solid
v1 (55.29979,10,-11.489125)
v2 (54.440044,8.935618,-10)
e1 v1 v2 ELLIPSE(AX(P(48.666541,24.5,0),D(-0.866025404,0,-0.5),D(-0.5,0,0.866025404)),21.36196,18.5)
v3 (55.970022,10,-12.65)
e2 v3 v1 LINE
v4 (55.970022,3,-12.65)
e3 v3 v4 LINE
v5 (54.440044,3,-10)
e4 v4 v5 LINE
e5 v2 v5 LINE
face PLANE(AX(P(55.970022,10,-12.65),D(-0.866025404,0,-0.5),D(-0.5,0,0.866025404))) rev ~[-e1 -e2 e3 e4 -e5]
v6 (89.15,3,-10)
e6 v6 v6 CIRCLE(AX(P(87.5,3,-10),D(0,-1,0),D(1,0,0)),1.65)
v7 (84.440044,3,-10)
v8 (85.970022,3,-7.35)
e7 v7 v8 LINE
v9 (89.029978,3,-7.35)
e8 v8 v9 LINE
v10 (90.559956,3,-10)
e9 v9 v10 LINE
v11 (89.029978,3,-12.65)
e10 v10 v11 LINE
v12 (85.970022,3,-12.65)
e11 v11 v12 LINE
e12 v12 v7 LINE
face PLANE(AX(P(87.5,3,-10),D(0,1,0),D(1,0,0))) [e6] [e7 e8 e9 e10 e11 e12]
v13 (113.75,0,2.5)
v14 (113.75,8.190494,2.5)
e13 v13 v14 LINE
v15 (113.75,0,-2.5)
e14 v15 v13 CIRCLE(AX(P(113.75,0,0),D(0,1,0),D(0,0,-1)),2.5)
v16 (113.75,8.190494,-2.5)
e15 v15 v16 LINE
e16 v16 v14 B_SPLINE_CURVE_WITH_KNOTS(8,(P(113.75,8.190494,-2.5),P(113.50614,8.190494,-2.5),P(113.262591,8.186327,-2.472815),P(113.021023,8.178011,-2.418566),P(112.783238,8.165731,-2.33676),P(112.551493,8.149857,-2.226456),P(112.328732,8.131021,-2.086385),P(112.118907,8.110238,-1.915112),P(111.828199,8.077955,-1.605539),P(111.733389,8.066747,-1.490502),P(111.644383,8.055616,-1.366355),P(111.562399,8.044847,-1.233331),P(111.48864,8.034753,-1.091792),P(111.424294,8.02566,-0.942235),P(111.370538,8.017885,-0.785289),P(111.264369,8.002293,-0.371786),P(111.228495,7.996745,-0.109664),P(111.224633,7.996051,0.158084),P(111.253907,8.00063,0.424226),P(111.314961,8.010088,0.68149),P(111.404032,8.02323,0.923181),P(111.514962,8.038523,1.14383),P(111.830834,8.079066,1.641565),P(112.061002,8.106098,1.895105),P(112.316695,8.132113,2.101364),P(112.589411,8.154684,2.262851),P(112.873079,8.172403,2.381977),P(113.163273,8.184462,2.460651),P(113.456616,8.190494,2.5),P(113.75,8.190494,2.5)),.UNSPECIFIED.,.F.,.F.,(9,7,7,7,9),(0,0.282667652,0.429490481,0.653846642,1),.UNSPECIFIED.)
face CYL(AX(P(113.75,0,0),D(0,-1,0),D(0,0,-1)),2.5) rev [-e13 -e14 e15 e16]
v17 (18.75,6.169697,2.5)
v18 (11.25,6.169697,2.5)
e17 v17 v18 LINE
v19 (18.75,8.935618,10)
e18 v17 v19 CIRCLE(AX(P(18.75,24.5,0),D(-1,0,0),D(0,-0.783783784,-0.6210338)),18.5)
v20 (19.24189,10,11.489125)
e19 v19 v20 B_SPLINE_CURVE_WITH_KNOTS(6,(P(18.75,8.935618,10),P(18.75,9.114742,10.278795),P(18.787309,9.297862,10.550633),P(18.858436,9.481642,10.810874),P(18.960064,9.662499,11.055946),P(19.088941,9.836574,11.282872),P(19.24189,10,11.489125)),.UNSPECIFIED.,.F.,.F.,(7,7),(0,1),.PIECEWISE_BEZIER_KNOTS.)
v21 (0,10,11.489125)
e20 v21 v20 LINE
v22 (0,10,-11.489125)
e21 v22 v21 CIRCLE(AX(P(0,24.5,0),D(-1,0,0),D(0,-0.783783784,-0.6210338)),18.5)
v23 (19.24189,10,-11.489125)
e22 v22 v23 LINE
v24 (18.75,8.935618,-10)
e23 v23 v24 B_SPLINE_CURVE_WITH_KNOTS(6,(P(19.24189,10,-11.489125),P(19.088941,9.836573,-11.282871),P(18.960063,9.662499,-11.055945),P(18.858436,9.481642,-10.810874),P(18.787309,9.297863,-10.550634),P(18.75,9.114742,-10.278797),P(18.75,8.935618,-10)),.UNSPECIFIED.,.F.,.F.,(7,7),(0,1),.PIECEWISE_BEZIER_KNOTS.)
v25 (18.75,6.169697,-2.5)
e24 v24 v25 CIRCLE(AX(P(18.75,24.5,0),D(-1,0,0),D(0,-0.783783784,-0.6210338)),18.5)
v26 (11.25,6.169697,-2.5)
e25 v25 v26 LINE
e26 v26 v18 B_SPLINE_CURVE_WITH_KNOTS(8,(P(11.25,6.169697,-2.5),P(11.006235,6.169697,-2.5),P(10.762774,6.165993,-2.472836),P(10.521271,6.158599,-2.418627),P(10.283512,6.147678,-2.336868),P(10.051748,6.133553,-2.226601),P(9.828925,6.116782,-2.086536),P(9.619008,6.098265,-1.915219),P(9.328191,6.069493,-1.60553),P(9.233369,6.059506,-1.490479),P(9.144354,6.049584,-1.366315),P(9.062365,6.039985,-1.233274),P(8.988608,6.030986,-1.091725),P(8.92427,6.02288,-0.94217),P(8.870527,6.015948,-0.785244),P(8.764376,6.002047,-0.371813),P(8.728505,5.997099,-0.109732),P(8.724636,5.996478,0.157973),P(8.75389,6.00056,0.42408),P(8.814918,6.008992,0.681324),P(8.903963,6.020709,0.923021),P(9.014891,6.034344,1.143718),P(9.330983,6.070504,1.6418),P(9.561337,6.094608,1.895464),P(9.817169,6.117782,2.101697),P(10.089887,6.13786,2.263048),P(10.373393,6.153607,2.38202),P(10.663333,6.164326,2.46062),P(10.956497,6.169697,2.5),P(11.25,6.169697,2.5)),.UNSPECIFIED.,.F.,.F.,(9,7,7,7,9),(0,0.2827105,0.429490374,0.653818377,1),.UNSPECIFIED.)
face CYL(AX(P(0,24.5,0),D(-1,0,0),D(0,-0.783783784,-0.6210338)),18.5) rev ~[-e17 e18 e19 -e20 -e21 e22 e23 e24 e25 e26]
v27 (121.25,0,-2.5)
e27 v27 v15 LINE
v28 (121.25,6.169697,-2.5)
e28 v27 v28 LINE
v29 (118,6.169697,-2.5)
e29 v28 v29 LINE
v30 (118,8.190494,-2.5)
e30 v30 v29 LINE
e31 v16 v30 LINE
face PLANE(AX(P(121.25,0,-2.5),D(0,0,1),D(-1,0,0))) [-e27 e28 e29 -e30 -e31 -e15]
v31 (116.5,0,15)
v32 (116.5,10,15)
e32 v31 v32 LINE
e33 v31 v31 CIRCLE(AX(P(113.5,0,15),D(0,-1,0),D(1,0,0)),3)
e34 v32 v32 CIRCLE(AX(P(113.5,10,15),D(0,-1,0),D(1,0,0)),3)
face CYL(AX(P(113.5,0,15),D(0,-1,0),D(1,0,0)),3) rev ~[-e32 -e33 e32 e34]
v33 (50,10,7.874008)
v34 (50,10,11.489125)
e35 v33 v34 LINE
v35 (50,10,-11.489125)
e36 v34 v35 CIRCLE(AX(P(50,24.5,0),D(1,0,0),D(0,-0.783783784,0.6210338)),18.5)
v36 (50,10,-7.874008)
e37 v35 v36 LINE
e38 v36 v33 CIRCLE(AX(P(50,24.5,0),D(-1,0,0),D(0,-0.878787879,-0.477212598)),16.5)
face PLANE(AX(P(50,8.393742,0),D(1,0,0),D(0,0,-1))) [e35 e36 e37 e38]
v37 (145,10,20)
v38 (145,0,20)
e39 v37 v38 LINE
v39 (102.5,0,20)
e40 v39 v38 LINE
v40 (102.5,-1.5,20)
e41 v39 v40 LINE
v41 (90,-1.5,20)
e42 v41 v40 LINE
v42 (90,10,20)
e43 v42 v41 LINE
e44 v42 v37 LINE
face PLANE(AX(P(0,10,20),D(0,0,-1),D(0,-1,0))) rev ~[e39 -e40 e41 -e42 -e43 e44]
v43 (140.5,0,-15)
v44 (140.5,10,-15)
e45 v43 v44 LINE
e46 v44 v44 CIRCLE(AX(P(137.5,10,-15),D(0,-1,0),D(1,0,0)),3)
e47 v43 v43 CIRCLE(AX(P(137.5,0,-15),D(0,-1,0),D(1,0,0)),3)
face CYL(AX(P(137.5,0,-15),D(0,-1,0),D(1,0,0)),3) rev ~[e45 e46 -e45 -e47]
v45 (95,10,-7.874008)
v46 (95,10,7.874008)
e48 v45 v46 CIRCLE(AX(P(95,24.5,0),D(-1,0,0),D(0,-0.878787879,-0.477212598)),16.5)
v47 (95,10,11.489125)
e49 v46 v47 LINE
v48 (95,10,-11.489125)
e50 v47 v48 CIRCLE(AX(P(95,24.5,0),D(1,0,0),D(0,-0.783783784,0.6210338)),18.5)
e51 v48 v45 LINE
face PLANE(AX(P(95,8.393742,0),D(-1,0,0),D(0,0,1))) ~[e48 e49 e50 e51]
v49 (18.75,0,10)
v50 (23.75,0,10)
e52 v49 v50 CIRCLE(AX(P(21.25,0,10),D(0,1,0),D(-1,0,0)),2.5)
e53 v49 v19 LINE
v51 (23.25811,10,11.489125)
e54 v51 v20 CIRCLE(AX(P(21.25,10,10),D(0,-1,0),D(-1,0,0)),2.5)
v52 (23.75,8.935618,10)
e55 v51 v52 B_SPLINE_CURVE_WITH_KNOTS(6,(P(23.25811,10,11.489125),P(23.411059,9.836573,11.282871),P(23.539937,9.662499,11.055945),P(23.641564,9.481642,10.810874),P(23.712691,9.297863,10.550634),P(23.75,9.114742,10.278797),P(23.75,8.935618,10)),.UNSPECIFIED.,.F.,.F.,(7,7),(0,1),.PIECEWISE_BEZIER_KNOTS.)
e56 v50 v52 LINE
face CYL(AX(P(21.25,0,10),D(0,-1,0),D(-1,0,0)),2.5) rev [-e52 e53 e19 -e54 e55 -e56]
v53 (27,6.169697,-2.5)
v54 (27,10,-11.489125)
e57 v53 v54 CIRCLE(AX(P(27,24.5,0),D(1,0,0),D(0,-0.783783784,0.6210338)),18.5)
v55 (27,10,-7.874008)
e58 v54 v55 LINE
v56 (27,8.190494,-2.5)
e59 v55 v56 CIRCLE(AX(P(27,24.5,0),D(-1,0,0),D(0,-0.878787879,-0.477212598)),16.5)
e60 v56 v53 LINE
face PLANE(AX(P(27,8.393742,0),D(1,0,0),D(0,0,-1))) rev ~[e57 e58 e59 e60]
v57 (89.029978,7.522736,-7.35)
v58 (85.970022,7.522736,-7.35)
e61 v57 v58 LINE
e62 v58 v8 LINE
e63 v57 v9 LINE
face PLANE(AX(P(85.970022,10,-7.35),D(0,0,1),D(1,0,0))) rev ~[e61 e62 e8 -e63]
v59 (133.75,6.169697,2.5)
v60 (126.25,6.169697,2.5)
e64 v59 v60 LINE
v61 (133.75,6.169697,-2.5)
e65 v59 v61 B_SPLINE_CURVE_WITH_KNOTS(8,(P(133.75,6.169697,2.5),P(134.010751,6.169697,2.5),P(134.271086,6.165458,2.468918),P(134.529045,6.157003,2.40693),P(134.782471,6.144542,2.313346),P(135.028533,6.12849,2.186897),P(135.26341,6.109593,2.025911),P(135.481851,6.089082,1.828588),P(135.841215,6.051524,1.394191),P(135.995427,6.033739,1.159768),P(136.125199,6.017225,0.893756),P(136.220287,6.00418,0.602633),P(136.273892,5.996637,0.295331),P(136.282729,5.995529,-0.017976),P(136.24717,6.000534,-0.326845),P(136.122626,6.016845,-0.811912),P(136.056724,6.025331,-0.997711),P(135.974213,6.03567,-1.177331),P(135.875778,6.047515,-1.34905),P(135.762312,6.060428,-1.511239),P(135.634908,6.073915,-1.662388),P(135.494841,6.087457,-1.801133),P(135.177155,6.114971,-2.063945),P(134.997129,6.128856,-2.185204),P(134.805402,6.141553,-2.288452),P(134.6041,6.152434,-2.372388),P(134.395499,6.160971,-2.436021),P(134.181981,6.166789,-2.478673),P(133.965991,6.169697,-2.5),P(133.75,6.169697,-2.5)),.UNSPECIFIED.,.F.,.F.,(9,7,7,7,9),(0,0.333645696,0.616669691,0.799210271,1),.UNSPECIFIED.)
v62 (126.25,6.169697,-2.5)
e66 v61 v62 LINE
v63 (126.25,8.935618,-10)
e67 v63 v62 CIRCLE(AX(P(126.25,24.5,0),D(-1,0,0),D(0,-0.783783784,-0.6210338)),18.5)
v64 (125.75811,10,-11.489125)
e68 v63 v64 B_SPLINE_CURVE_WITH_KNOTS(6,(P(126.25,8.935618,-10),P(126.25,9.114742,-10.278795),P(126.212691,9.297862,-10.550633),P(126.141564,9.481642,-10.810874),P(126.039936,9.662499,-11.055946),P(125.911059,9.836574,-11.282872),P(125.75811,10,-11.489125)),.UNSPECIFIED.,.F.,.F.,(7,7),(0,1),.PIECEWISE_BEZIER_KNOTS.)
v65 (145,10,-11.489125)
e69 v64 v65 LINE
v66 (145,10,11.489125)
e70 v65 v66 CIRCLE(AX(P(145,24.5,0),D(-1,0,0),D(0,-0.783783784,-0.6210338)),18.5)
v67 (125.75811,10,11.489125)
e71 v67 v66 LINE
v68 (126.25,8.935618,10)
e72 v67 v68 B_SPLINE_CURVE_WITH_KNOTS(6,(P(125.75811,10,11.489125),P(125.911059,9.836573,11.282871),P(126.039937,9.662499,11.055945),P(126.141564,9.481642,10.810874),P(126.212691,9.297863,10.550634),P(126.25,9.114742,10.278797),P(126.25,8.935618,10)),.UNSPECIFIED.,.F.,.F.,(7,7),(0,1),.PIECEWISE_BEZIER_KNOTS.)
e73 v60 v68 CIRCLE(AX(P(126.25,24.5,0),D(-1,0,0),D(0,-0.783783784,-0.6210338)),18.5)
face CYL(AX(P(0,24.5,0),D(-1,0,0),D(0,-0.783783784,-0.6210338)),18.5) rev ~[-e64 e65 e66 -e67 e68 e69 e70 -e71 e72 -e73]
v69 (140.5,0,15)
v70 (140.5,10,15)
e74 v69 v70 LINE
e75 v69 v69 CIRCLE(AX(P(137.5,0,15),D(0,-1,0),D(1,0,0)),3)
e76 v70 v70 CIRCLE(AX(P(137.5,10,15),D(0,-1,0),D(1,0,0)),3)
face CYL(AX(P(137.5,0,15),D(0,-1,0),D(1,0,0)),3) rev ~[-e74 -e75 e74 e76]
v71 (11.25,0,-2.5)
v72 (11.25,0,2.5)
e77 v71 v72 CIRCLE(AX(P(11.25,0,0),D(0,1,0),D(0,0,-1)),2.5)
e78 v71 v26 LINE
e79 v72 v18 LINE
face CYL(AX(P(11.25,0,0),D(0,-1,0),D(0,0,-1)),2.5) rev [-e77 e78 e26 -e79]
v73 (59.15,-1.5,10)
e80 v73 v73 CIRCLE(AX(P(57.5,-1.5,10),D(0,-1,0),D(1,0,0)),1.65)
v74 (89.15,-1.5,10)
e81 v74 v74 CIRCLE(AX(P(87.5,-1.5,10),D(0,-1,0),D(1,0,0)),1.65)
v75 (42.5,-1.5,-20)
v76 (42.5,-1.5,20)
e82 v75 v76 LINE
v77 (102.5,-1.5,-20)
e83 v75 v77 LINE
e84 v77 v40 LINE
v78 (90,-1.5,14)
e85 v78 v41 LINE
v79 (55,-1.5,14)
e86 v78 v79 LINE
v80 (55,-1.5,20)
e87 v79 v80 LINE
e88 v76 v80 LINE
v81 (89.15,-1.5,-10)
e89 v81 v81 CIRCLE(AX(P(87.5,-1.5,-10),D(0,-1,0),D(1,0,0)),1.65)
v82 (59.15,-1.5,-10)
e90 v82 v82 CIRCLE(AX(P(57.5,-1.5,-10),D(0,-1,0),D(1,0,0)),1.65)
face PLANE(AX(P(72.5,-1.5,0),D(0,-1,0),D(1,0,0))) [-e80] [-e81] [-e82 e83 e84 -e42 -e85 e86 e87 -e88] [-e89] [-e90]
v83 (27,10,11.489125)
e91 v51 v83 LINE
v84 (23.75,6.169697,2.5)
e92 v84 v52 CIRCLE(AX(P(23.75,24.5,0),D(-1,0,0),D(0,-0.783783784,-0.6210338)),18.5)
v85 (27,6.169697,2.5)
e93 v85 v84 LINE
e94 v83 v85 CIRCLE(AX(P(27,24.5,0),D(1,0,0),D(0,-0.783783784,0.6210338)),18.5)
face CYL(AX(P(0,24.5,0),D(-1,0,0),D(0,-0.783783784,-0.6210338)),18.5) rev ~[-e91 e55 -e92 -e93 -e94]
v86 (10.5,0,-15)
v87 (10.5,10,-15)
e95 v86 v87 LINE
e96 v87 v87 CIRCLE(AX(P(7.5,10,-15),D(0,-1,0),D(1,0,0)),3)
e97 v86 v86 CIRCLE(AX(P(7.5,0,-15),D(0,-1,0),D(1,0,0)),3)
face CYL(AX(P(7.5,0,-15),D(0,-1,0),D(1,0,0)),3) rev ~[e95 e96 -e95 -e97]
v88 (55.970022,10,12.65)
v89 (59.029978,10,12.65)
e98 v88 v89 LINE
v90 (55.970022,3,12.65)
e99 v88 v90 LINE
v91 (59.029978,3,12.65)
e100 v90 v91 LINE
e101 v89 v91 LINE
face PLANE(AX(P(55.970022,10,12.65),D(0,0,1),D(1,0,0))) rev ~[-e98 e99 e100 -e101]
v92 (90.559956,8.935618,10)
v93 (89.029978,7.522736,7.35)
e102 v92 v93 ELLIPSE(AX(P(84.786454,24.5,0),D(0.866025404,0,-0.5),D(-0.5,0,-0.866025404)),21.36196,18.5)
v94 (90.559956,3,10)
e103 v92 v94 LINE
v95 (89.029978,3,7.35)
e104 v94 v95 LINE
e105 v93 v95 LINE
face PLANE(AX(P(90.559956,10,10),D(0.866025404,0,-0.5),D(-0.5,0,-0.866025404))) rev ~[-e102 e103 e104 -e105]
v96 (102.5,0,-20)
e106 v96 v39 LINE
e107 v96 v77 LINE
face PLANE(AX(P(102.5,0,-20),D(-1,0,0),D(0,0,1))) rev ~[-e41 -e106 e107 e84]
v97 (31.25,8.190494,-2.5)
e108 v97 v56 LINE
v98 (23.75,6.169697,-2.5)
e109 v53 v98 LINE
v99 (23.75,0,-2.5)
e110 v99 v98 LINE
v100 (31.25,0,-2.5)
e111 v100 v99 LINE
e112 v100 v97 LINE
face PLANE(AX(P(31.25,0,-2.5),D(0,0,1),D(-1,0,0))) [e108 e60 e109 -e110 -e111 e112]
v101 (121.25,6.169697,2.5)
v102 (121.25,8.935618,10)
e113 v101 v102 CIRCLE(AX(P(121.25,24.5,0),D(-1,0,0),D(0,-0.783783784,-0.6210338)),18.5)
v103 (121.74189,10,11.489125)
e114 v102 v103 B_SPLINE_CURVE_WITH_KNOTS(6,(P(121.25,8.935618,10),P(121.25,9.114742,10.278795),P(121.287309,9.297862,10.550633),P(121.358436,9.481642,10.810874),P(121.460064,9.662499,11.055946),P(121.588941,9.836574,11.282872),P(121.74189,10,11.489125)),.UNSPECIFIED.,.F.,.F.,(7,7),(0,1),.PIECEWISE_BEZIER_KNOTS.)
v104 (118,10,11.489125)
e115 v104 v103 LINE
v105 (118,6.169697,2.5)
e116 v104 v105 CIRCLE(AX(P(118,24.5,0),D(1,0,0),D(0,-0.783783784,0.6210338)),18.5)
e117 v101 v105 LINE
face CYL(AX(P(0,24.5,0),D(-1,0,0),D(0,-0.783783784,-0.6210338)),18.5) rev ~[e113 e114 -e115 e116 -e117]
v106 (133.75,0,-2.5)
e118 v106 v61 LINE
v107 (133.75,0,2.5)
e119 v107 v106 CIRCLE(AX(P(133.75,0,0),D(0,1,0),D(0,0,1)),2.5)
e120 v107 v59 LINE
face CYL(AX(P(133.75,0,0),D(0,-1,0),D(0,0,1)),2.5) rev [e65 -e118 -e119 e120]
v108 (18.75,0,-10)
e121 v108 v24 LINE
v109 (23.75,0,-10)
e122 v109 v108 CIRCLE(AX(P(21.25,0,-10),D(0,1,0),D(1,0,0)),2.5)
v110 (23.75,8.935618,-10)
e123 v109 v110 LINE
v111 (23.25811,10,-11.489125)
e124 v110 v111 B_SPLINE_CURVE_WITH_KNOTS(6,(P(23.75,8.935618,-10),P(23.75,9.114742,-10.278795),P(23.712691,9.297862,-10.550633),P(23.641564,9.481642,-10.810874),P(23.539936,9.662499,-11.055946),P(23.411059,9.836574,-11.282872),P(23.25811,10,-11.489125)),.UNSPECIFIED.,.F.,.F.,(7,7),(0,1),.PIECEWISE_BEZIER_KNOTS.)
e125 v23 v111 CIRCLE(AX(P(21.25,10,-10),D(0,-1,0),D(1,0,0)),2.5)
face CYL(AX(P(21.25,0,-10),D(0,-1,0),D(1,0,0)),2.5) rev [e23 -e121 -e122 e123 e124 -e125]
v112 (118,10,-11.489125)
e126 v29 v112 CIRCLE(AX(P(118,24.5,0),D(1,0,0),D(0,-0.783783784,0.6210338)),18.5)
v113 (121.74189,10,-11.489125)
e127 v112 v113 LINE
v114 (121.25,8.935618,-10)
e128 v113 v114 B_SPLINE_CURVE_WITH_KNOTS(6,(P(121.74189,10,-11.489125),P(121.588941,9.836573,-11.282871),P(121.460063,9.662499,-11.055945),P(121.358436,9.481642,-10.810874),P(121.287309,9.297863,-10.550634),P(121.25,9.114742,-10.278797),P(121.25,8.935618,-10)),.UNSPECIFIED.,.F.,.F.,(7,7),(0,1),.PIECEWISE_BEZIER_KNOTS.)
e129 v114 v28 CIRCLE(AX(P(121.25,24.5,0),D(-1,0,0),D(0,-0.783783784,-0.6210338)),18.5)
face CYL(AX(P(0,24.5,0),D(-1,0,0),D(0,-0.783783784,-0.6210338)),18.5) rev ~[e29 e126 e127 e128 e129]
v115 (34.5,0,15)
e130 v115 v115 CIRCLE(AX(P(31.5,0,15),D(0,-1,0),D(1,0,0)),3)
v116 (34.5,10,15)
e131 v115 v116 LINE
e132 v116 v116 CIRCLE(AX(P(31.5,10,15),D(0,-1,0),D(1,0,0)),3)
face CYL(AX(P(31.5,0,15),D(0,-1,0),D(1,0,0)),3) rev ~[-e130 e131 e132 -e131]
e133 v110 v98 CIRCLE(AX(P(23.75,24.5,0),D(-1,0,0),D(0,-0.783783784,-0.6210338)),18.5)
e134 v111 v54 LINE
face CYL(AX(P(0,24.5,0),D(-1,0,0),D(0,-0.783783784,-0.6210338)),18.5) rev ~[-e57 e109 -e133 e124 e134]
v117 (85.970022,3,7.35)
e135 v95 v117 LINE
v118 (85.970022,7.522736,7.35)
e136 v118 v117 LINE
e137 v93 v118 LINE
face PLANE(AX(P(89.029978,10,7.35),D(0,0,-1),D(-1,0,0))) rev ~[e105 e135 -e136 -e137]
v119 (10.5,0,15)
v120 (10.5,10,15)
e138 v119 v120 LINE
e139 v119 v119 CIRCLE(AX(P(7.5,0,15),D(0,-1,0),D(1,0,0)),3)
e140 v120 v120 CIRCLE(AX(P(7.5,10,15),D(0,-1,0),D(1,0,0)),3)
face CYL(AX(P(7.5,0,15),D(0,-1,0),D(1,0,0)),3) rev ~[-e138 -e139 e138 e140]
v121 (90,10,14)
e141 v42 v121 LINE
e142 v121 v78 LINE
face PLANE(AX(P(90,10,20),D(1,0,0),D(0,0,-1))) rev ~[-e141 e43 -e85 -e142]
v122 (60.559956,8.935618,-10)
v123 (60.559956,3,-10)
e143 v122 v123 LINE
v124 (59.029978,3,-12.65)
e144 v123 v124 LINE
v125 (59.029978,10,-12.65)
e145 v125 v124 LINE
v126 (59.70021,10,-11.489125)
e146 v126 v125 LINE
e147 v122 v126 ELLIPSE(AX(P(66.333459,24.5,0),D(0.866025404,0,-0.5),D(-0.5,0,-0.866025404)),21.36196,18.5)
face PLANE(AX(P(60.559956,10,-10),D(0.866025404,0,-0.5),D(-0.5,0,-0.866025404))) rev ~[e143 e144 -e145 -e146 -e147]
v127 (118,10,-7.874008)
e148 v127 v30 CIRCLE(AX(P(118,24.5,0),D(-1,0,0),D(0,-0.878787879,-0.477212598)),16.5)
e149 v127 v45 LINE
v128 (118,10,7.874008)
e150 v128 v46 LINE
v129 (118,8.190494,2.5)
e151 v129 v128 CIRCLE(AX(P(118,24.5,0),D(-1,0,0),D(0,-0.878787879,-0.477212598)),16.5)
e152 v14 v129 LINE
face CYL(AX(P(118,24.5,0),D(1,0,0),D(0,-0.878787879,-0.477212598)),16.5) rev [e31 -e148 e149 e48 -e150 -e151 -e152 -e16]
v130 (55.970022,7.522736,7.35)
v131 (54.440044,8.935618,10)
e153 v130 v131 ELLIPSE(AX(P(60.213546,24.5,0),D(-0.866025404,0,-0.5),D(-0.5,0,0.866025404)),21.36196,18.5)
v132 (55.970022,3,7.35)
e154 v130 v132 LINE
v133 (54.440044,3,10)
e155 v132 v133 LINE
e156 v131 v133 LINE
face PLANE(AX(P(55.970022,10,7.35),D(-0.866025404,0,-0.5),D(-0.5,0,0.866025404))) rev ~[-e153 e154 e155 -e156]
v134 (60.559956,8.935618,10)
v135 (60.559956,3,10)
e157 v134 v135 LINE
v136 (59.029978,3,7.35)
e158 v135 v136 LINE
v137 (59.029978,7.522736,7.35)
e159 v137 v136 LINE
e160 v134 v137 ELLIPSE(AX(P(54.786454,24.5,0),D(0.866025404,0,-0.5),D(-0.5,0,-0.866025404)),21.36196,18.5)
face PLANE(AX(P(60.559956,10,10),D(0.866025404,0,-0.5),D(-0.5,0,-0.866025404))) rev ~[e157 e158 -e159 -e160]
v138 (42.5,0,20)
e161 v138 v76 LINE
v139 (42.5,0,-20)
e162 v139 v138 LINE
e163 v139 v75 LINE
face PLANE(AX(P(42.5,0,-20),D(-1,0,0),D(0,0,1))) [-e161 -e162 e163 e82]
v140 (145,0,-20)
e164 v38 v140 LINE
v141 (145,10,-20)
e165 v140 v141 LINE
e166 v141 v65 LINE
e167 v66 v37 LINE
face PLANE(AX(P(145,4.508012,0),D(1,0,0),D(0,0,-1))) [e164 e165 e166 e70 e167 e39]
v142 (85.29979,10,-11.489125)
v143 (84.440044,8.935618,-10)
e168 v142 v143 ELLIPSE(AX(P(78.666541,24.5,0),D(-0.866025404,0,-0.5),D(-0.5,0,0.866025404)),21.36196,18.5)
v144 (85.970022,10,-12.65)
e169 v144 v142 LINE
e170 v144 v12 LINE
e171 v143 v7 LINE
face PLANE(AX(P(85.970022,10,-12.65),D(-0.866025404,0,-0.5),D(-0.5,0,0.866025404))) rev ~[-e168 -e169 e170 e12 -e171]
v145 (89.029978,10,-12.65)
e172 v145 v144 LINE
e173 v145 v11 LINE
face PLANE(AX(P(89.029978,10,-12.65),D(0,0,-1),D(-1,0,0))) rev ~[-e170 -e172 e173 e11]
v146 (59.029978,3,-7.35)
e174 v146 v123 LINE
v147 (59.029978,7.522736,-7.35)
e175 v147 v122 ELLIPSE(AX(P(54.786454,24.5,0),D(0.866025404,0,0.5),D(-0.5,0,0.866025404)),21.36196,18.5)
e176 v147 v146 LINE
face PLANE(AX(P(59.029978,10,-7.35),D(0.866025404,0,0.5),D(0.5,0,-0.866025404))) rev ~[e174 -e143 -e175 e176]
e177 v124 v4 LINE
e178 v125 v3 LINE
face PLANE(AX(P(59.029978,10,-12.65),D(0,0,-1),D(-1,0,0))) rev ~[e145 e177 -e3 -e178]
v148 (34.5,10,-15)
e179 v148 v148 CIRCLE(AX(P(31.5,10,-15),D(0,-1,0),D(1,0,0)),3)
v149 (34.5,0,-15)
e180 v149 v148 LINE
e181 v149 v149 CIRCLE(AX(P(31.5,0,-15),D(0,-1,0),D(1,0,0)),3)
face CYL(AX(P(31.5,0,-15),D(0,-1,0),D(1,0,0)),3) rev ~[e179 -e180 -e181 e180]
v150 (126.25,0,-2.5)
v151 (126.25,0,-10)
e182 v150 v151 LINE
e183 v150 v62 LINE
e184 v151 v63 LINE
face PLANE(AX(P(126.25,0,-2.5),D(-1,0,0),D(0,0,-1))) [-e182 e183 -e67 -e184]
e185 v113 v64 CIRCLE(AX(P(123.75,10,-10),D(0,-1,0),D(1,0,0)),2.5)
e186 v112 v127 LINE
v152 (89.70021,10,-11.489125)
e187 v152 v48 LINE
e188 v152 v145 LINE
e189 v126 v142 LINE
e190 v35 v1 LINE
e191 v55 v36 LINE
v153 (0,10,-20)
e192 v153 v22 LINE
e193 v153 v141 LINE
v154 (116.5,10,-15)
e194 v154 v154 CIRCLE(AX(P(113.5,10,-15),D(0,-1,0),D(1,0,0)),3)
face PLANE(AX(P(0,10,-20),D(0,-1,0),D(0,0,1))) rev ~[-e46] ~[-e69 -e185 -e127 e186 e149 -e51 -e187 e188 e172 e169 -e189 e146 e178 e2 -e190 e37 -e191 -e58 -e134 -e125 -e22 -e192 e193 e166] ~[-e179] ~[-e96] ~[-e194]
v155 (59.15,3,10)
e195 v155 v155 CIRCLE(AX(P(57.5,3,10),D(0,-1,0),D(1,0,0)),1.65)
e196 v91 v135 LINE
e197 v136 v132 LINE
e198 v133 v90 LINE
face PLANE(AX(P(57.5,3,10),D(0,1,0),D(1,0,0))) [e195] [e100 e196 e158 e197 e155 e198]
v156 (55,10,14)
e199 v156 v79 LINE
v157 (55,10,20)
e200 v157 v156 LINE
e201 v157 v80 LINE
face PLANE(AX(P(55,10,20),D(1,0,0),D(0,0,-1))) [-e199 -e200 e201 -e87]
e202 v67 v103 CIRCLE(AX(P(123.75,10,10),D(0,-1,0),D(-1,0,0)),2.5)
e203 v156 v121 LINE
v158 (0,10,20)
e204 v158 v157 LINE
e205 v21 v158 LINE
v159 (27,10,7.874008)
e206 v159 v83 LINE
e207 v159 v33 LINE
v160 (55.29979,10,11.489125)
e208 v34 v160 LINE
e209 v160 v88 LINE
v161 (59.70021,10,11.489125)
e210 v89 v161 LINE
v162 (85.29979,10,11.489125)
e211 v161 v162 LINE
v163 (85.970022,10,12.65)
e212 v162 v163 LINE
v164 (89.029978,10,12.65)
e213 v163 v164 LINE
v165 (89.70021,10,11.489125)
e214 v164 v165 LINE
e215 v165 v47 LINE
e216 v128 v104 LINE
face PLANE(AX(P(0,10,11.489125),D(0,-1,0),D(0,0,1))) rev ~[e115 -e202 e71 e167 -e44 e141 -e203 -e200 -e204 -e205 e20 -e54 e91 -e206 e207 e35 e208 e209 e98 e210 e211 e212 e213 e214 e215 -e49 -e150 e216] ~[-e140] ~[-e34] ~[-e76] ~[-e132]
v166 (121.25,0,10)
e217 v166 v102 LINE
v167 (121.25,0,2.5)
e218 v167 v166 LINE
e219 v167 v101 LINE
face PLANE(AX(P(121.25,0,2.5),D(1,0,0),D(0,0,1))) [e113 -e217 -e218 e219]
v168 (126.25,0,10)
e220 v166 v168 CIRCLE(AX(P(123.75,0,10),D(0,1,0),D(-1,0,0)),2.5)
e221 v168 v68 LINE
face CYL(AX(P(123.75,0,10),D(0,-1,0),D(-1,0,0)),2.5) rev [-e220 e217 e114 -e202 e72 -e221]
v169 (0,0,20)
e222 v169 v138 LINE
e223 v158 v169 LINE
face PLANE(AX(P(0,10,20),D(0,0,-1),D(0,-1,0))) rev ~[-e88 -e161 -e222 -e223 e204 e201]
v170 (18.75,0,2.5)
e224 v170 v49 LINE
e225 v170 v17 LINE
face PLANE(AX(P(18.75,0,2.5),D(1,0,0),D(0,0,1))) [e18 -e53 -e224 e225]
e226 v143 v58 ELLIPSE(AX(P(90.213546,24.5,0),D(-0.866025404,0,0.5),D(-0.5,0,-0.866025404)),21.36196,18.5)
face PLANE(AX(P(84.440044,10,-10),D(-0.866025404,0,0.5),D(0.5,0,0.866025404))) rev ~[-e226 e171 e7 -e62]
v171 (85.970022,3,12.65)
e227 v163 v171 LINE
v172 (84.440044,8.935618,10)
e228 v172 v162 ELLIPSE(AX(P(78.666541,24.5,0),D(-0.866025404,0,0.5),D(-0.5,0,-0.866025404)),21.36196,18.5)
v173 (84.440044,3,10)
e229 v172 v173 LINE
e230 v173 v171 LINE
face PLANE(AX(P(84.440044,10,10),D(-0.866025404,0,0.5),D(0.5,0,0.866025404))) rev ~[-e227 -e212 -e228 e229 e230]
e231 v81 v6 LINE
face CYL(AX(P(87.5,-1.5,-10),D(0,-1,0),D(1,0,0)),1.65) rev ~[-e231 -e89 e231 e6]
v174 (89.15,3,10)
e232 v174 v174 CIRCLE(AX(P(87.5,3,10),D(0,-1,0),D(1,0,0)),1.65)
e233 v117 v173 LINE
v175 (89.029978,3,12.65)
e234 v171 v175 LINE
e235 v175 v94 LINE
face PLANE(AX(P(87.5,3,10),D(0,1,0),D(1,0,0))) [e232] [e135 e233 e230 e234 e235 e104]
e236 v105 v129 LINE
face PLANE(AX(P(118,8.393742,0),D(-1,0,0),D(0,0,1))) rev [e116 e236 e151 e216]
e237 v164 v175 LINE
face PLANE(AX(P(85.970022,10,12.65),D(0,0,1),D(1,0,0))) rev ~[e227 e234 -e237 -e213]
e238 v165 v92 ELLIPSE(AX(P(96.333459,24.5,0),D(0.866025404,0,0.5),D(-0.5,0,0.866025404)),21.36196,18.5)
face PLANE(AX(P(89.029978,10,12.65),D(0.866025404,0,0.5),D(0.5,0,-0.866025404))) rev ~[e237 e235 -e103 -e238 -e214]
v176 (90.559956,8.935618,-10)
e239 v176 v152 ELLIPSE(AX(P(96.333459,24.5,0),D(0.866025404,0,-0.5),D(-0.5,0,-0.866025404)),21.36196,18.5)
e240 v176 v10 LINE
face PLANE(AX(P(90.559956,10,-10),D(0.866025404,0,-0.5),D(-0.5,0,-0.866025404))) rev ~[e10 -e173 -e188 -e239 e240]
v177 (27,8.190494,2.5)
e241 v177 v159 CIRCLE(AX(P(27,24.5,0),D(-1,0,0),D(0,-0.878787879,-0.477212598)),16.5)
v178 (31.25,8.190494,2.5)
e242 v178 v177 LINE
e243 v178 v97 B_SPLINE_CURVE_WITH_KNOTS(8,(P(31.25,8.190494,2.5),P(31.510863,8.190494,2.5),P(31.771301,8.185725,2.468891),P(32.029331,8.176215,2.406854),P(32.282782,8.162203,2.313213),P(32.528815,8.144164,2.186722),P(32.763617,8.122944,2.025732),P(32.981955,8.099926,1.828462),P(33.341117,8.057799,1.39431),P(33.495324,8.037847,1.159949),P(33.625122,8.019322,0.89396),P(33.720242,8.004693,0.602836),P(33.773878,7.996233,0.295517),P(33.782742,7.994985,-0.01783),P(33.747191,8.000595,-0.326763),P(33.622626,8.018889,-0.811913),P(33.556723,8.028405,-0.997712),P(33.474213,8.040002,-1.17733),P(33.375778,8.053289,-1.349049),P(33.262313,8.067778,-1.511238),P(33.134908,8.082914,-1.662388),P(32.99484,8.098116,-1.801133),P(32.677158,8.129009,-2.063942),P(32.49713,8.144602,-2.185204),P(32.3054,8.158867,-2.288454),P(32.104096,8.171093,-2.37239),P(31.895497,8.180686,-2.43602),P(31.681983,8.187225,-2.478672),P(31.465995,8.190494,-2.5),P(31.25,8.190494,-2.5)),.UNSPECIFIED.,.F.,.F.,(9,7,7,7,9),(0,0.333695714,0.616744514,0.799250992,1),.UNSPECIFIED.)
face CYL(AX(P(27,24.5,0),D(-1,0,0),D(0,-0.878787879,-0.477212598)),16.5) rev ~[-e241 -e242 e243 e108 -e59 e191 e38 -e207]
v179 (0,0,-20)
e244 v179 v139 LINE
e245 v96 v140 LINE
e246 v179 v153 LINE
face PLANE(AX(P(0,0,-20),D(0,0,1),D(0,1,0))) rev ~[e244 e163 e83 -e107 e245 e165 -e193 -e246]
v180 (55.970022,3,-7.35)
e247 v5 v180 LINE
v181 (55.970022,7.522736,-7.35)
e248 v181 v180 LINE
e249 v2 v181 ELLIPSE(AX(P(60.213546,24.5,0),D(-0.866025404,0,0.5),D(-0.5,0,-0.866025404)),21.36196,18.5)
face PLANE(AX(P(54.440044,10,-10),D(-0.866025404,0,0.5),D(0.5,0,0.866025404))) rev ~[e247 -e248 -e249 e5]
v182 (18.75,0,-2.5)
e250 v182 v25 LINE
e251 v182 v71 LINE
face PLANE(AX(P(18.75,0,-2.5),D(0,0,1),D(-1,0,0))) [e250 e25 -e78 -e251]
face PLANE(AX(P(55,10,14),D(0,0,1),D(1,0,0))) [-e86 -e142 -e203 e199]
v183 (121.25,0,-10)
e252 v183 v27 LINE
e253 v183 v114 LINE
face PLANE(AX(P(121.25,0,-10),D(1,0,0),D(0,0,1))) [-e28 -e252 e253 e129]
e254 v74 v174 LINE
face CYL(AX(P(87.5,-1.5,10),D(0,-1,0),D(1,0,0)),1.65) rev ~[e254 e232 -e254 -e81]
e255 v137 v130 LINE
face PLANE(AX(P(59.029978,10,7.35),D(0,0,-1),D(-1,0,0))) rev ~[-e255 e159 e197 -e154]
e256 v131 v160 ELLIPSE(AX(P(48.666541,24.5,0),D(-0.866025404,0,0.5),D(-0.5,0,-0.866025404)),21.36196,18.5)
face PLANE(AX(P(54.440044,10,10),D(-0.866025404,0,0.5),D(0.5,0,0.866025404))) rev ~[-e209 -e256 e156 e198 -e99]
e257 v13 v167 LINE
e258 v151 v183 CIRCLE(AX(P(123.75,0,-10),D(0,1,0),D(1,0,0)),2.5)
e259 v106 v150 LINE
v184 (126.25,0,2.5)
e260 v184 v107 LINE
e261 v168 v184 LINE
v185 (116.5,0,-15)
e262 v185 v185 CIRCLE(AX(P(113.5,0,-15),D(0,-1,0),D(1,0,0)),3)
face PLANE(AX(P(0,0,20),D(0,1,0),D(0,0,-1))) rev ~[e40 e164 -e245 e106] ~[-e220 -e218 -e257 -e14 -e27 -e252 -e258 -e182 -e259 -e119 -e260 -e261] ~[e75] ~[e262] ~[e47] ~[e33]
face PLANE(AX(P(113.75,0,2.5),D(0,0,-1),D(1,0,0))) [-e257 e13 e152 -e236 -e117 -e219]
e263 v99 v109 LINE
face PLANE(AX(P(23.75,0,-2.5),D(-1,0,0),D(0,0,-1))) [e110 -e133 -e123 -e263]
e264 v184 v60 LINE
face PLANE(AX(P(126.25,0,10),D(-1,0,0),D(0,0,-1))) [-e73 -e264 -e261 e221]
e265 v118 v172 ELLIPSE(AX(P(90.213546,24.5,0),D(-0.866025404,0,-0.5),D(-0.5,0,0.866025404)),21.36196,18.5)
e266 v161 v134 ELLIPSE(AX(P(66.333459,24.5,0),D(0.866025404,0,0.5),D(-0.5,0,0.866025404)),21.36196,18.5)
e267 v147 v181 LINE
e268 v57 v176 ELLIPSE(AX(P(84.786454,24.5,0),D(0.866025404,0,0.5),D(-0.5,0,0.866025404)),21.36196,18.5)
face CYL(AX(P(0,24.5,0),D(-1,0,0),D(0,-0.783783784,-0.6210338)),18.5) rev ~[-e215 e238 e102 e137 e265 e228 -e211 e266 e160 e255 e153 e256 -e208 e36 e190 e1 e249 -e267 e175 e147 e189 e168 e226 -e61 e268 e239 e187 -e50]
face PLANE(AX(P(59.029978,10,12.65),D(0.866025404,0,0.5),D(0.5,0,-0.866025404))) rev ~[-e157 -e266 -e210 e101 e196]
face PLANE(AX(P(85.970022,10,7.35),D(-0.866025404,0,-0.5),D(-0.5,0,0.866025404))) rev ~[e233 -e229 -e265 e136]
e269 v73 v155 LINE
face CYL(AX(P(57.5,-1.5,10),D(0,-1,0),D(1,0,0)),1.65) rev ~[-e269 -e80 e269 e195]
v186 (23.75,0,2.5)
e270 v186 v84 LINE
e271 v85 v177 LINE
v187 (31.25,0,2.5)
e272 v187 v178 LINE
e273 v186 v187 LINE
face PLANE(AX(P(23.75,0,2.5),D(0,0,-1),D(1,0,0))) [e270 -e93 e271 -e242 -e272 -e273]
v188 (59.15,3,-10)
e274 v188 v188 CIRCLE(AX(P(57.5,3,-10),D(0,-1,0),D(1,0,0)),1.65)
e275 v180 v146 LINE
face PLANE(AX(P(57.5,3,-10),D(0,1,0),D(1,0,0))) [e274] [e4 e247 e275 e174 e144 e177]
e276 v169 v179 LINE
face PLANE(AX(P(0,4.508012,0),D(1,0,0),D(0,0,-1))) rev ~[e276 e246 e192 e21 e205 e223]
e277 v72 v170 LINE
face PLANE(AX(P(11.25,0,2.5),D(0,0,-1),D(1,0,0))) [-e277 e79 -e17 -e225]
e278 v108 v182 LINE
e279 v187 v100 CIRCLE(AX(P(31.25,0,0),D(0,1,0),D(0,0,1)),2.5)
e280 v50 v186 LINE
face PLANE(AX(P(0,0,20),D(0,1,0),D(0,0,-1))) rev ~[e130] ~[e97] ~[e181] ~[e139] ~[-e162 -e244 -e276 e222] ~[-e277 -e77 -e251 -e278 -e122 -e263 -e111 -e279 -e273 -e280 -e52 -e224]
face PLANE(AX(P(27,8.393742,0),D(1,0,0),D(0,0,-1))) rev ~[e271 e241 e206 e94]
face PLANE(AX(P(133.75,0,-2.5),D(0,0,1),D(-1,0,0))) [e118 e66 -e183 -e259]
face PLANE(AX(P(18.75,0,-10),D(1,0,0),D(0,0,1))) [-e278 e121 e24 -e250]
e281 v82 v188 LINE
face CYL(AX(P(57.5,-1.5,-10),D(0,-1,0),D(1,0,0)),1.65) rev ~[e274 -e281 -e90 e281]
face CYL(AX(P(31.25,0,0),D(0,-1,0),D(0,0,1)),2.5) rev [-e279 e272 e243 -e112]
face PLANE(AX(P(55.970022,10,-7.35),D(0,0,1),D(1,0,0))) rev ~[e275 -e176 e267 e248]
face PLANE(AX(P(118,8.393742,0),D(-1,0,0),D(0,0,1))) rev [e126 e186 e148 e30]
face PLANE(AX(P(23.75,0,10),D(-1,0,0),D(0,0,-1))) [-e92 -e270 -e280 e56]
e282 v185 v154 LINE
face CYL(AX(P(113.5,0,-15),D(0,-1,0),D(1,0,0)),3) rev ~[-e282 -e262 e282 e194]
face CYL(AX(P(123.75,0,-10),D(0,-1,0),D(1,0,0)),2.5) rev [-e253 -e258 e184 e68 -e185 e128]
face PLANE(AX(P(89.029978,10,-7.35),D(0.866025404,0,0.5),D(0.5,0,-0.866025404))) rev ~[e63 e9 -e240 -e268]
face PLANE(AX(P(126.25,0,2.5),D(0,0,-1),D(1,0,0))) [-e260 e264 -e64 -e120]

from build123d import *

# Parameters (mm, degrees)
EXTRUDE_1_DEPTH     = 145
SKETCH_2_R          = 3
CUT_EXTRUDE_1_DEPTH = 11
EXTRUDE_2_DEPTH     = 23
SKETCH_4_W          = 60
SKETCH_4_H          = 40
EXTRUDE_3_DEPTH     = 1.5
SKETCH_5_R          = 1.65
CUT_EXTRUDE_2_DEPTH = 12.5
CUT_EXTRUDE_3_DEPTH = 7
SKETCH_8_W          = 35
SKETCH_8_H          = 6
CUT_EXTRUDE_5_DEPTH = 12.5
CUT_EXTRUDE_6_DEPTH = 11


with BuildPart() as part:
    # 草图1 → 凸台-拉伸1 (new body)
    with BuildSketch(Plane(origin=(0, 0, 0), x_dir=(0, 0, -1), z_dir=(1, 0, 0))):
        with BuildLine():
            Line((-20, 10), (-20, 0))
            Line((-20, 0), (20, 0))
            Line((20, 0), (20, 10))
            Line((20, 10), (11.489125293, 10))
            ThreePointArc((11.489125293, 10), (0, 6), (-11.489125293, 10))
            Line((-11.489125293, 10), (-20, 10))
        make_face()
    extrude(amount=EXTRUDE_1_DEPTH)

    # 草图2 → 切除-拉伸1 (cut, through all)
    with BuildSketch(Plane.XZ):
        with Locations((137.5, -15)):
            Circle(SKETCH_2_R)
        with Locations((113.5, -15)):
            Circle(SKETCH_2_R)
        with Locations((113.5, 15)):
            Circle(SKETCH_2_R)
        with Locations((137.5, 15)):
            Circle(SKETCH_2_R)
        with Locations((7.5, 15)):
            Circle(SKETCH_2_R)
        with Locations((31.5, 15)):
            Circle(SKETCH_2_R)
        with Locations((31.5, -15)):
            Circle(SKETCH_2_R)
        with Locations((7.5, -15)):
            Circle(SKETCH_2_R)
    extrude(amount=-CUT_EXTRUDE_1_DEPTH, mode=Mode.SUBTRACT)

    # 草图3 → 凸台-拉伸2 (add)
    with BuildSketch(Plane(origin=(27, 0, 0), x_dir=(0, 0, -1), z_dir=(1, 0, 0))):
        with BuildLine():
            Line((11.489125293, 10), (7.874007874, 10))
            ThreePointArc((7.874007874, 10), (0, 8), (-7.874007874, 10))
            Line((-7.874007874, 10), (-11.489125293, 10))
            ThreePointArc((-11.489125293, 10), (0, 6), (11.489125293, 10))
        make_face()
    extrude_2 = extrude(amount=EXTRUDE_2_DEPTH)

    # 镜向1: 凸台-拉伸2 across plane
    add(extrude_2.mirror(Plane(origin=(72.5, 0, 0), x_dir=(0, 0, 1), z_dir=(1, 0, 0))))

    # 草图4 → 凸台-拉伸3 (add)
    with BuildSketch(Plane.XZ):
        with Locations((72.5, 0)):
            Rectangle(SKETCH_4_W, SKETCH_4_H)
    extrude(amount=EXTRUDE_3_DEPTH)

    # 草图5 → 切除-拉伸2 (cut, through all)
    with BuildSketch(Plane.XZ.offset(1.5)):
        with Locations((57.5, 10)):
            Circle(SKETCH_5_R)
        with Locations((57.5, -10)):
            Circle(SKETCH_5_R)
        with Locations((87.5, -10)):
            Circle(SKETCH_5_R)
        with Locations((87.5, 10)):
            Circle(SKETCH_5_R)
    extrude(amount=-CUT_EXTRUDE_2_DEPTH, mode=Mode.SUBTRACT)

    # 草图6 → 切除-拉伸3 (cut)
    with BuildSketch(Plane(origin=(0, 10, 0), x_dir=(1, 0, 0), z_dir=(0, 1, 0))):
        Polygon((60.559956427, 10), (59.029978213, 12.65), (55.970021787, 12.65), (54.440043573, 10), (55.970021787, 7.35), (59.029978213, 7.35), align=None)
        Polygon((90.559956427, 10), (89.029978213, 12.65), (85.970021787, 12.65), (84.440043573, 10), (85.970021787, 7.35), (89.029978213, 7.35), align=None)
        Polygon((60.559956427, -10), (59.029978213, -7.35), (55.970021787, -7.35), (54.440043573, -10), (55.970021787, -12.65), (59.029978213, -12.65), align=None)
        Polygon((90.559956427, -10), (89.029978213, -7.35), (85.970021787, -7.35), (84.440043573, -10), (85.970021787, -12.65), (89.029978213, -12.65), align=None)
    extrude(amount=-CUT_EXTRUDE_3_DEPTH, mode=Mode.SUBTRACT)

    # 草图8 → 切除-拉伸5 (cut, through all)
    with BuildSketch(Plane(origin=(0, 10, 0), x_dir=(1, 0, 0), z_dir=(0, 1, 0))):
        with Locations((72.5, -17)):
            Rectangle(SKETCH_8_W, SKETCH_8_H)
    extrude(amount=-CUT_EXTRUDE_5_DEPTH, mode=Mode.SUBTRACT)

    # 草图9 → 切除-拉伸6 (cut, through all)
    with BuildSketch(Plane.XZ):
        with BuildLine():
            Line((133.75, -2.5), (126.25, -2.5))
            Line((126.25, -2.5), (126.25, -10))
            ThreePointArc((126.25, -10), (123.75, -12.5), (121.25, -10))
            Line((121.25, -10), (121.25, -2.5))
            Line((121.25, -2.5), (113.75, -2.5))
            ThreePointArc((113.75, -2.5), (111.25, 0), (113.75, 2.5))
            Line((113.75, 2.5), (121.25, 2.5))
            Line((121.25, 2.5), (121.25, 10))
            ThreePointArc((121.25, 10), (123.75, 12.5), (126.25, 10))
            Line((126.25, 10), (126.25, 2.5))
            Line((126.25, 2.5), (133.75, 2.5))
            ThreePointArc((133.75, 2.5), (136.25, 0), (133.75, -2.5))
        make_face()
        with BuildLine():
            Line((23.75, -2.5), (23.75, -10))
            ThreePointArc((23.75, -10), (21.25, -12.5), (18.75, -10))
            Line((18.75, -10), (18.75, -2.5))
            Line((18.75, -2.5), (11.25, -2.5))
            ThreePointArc((11.25, -2.5), (8.75, 0), (11.25, 2.5))
            Line((11.25, 2.5), (18.75, 2.5))
            Line((18.75, 2.5), (18.75, 10))
            ThreePointArc((18.75, 10), (21.25, 12.5), (23.75, 10))
            Line((23.75, 10), (23.75, 2.5))
            Line((23.75, 2.5), (31.25, 2.5))
            ThreePointArc((31.25, 2.5), (33.75, 0), (31.25, -2.5))
            Line((31.25, -2.5), (23.75, -2.5))
        make_face()
    extrude(amount=-CUT_EXTRUDE_6_DEPTH, mode=Mode.SUBTRACT)


solid = part.part
